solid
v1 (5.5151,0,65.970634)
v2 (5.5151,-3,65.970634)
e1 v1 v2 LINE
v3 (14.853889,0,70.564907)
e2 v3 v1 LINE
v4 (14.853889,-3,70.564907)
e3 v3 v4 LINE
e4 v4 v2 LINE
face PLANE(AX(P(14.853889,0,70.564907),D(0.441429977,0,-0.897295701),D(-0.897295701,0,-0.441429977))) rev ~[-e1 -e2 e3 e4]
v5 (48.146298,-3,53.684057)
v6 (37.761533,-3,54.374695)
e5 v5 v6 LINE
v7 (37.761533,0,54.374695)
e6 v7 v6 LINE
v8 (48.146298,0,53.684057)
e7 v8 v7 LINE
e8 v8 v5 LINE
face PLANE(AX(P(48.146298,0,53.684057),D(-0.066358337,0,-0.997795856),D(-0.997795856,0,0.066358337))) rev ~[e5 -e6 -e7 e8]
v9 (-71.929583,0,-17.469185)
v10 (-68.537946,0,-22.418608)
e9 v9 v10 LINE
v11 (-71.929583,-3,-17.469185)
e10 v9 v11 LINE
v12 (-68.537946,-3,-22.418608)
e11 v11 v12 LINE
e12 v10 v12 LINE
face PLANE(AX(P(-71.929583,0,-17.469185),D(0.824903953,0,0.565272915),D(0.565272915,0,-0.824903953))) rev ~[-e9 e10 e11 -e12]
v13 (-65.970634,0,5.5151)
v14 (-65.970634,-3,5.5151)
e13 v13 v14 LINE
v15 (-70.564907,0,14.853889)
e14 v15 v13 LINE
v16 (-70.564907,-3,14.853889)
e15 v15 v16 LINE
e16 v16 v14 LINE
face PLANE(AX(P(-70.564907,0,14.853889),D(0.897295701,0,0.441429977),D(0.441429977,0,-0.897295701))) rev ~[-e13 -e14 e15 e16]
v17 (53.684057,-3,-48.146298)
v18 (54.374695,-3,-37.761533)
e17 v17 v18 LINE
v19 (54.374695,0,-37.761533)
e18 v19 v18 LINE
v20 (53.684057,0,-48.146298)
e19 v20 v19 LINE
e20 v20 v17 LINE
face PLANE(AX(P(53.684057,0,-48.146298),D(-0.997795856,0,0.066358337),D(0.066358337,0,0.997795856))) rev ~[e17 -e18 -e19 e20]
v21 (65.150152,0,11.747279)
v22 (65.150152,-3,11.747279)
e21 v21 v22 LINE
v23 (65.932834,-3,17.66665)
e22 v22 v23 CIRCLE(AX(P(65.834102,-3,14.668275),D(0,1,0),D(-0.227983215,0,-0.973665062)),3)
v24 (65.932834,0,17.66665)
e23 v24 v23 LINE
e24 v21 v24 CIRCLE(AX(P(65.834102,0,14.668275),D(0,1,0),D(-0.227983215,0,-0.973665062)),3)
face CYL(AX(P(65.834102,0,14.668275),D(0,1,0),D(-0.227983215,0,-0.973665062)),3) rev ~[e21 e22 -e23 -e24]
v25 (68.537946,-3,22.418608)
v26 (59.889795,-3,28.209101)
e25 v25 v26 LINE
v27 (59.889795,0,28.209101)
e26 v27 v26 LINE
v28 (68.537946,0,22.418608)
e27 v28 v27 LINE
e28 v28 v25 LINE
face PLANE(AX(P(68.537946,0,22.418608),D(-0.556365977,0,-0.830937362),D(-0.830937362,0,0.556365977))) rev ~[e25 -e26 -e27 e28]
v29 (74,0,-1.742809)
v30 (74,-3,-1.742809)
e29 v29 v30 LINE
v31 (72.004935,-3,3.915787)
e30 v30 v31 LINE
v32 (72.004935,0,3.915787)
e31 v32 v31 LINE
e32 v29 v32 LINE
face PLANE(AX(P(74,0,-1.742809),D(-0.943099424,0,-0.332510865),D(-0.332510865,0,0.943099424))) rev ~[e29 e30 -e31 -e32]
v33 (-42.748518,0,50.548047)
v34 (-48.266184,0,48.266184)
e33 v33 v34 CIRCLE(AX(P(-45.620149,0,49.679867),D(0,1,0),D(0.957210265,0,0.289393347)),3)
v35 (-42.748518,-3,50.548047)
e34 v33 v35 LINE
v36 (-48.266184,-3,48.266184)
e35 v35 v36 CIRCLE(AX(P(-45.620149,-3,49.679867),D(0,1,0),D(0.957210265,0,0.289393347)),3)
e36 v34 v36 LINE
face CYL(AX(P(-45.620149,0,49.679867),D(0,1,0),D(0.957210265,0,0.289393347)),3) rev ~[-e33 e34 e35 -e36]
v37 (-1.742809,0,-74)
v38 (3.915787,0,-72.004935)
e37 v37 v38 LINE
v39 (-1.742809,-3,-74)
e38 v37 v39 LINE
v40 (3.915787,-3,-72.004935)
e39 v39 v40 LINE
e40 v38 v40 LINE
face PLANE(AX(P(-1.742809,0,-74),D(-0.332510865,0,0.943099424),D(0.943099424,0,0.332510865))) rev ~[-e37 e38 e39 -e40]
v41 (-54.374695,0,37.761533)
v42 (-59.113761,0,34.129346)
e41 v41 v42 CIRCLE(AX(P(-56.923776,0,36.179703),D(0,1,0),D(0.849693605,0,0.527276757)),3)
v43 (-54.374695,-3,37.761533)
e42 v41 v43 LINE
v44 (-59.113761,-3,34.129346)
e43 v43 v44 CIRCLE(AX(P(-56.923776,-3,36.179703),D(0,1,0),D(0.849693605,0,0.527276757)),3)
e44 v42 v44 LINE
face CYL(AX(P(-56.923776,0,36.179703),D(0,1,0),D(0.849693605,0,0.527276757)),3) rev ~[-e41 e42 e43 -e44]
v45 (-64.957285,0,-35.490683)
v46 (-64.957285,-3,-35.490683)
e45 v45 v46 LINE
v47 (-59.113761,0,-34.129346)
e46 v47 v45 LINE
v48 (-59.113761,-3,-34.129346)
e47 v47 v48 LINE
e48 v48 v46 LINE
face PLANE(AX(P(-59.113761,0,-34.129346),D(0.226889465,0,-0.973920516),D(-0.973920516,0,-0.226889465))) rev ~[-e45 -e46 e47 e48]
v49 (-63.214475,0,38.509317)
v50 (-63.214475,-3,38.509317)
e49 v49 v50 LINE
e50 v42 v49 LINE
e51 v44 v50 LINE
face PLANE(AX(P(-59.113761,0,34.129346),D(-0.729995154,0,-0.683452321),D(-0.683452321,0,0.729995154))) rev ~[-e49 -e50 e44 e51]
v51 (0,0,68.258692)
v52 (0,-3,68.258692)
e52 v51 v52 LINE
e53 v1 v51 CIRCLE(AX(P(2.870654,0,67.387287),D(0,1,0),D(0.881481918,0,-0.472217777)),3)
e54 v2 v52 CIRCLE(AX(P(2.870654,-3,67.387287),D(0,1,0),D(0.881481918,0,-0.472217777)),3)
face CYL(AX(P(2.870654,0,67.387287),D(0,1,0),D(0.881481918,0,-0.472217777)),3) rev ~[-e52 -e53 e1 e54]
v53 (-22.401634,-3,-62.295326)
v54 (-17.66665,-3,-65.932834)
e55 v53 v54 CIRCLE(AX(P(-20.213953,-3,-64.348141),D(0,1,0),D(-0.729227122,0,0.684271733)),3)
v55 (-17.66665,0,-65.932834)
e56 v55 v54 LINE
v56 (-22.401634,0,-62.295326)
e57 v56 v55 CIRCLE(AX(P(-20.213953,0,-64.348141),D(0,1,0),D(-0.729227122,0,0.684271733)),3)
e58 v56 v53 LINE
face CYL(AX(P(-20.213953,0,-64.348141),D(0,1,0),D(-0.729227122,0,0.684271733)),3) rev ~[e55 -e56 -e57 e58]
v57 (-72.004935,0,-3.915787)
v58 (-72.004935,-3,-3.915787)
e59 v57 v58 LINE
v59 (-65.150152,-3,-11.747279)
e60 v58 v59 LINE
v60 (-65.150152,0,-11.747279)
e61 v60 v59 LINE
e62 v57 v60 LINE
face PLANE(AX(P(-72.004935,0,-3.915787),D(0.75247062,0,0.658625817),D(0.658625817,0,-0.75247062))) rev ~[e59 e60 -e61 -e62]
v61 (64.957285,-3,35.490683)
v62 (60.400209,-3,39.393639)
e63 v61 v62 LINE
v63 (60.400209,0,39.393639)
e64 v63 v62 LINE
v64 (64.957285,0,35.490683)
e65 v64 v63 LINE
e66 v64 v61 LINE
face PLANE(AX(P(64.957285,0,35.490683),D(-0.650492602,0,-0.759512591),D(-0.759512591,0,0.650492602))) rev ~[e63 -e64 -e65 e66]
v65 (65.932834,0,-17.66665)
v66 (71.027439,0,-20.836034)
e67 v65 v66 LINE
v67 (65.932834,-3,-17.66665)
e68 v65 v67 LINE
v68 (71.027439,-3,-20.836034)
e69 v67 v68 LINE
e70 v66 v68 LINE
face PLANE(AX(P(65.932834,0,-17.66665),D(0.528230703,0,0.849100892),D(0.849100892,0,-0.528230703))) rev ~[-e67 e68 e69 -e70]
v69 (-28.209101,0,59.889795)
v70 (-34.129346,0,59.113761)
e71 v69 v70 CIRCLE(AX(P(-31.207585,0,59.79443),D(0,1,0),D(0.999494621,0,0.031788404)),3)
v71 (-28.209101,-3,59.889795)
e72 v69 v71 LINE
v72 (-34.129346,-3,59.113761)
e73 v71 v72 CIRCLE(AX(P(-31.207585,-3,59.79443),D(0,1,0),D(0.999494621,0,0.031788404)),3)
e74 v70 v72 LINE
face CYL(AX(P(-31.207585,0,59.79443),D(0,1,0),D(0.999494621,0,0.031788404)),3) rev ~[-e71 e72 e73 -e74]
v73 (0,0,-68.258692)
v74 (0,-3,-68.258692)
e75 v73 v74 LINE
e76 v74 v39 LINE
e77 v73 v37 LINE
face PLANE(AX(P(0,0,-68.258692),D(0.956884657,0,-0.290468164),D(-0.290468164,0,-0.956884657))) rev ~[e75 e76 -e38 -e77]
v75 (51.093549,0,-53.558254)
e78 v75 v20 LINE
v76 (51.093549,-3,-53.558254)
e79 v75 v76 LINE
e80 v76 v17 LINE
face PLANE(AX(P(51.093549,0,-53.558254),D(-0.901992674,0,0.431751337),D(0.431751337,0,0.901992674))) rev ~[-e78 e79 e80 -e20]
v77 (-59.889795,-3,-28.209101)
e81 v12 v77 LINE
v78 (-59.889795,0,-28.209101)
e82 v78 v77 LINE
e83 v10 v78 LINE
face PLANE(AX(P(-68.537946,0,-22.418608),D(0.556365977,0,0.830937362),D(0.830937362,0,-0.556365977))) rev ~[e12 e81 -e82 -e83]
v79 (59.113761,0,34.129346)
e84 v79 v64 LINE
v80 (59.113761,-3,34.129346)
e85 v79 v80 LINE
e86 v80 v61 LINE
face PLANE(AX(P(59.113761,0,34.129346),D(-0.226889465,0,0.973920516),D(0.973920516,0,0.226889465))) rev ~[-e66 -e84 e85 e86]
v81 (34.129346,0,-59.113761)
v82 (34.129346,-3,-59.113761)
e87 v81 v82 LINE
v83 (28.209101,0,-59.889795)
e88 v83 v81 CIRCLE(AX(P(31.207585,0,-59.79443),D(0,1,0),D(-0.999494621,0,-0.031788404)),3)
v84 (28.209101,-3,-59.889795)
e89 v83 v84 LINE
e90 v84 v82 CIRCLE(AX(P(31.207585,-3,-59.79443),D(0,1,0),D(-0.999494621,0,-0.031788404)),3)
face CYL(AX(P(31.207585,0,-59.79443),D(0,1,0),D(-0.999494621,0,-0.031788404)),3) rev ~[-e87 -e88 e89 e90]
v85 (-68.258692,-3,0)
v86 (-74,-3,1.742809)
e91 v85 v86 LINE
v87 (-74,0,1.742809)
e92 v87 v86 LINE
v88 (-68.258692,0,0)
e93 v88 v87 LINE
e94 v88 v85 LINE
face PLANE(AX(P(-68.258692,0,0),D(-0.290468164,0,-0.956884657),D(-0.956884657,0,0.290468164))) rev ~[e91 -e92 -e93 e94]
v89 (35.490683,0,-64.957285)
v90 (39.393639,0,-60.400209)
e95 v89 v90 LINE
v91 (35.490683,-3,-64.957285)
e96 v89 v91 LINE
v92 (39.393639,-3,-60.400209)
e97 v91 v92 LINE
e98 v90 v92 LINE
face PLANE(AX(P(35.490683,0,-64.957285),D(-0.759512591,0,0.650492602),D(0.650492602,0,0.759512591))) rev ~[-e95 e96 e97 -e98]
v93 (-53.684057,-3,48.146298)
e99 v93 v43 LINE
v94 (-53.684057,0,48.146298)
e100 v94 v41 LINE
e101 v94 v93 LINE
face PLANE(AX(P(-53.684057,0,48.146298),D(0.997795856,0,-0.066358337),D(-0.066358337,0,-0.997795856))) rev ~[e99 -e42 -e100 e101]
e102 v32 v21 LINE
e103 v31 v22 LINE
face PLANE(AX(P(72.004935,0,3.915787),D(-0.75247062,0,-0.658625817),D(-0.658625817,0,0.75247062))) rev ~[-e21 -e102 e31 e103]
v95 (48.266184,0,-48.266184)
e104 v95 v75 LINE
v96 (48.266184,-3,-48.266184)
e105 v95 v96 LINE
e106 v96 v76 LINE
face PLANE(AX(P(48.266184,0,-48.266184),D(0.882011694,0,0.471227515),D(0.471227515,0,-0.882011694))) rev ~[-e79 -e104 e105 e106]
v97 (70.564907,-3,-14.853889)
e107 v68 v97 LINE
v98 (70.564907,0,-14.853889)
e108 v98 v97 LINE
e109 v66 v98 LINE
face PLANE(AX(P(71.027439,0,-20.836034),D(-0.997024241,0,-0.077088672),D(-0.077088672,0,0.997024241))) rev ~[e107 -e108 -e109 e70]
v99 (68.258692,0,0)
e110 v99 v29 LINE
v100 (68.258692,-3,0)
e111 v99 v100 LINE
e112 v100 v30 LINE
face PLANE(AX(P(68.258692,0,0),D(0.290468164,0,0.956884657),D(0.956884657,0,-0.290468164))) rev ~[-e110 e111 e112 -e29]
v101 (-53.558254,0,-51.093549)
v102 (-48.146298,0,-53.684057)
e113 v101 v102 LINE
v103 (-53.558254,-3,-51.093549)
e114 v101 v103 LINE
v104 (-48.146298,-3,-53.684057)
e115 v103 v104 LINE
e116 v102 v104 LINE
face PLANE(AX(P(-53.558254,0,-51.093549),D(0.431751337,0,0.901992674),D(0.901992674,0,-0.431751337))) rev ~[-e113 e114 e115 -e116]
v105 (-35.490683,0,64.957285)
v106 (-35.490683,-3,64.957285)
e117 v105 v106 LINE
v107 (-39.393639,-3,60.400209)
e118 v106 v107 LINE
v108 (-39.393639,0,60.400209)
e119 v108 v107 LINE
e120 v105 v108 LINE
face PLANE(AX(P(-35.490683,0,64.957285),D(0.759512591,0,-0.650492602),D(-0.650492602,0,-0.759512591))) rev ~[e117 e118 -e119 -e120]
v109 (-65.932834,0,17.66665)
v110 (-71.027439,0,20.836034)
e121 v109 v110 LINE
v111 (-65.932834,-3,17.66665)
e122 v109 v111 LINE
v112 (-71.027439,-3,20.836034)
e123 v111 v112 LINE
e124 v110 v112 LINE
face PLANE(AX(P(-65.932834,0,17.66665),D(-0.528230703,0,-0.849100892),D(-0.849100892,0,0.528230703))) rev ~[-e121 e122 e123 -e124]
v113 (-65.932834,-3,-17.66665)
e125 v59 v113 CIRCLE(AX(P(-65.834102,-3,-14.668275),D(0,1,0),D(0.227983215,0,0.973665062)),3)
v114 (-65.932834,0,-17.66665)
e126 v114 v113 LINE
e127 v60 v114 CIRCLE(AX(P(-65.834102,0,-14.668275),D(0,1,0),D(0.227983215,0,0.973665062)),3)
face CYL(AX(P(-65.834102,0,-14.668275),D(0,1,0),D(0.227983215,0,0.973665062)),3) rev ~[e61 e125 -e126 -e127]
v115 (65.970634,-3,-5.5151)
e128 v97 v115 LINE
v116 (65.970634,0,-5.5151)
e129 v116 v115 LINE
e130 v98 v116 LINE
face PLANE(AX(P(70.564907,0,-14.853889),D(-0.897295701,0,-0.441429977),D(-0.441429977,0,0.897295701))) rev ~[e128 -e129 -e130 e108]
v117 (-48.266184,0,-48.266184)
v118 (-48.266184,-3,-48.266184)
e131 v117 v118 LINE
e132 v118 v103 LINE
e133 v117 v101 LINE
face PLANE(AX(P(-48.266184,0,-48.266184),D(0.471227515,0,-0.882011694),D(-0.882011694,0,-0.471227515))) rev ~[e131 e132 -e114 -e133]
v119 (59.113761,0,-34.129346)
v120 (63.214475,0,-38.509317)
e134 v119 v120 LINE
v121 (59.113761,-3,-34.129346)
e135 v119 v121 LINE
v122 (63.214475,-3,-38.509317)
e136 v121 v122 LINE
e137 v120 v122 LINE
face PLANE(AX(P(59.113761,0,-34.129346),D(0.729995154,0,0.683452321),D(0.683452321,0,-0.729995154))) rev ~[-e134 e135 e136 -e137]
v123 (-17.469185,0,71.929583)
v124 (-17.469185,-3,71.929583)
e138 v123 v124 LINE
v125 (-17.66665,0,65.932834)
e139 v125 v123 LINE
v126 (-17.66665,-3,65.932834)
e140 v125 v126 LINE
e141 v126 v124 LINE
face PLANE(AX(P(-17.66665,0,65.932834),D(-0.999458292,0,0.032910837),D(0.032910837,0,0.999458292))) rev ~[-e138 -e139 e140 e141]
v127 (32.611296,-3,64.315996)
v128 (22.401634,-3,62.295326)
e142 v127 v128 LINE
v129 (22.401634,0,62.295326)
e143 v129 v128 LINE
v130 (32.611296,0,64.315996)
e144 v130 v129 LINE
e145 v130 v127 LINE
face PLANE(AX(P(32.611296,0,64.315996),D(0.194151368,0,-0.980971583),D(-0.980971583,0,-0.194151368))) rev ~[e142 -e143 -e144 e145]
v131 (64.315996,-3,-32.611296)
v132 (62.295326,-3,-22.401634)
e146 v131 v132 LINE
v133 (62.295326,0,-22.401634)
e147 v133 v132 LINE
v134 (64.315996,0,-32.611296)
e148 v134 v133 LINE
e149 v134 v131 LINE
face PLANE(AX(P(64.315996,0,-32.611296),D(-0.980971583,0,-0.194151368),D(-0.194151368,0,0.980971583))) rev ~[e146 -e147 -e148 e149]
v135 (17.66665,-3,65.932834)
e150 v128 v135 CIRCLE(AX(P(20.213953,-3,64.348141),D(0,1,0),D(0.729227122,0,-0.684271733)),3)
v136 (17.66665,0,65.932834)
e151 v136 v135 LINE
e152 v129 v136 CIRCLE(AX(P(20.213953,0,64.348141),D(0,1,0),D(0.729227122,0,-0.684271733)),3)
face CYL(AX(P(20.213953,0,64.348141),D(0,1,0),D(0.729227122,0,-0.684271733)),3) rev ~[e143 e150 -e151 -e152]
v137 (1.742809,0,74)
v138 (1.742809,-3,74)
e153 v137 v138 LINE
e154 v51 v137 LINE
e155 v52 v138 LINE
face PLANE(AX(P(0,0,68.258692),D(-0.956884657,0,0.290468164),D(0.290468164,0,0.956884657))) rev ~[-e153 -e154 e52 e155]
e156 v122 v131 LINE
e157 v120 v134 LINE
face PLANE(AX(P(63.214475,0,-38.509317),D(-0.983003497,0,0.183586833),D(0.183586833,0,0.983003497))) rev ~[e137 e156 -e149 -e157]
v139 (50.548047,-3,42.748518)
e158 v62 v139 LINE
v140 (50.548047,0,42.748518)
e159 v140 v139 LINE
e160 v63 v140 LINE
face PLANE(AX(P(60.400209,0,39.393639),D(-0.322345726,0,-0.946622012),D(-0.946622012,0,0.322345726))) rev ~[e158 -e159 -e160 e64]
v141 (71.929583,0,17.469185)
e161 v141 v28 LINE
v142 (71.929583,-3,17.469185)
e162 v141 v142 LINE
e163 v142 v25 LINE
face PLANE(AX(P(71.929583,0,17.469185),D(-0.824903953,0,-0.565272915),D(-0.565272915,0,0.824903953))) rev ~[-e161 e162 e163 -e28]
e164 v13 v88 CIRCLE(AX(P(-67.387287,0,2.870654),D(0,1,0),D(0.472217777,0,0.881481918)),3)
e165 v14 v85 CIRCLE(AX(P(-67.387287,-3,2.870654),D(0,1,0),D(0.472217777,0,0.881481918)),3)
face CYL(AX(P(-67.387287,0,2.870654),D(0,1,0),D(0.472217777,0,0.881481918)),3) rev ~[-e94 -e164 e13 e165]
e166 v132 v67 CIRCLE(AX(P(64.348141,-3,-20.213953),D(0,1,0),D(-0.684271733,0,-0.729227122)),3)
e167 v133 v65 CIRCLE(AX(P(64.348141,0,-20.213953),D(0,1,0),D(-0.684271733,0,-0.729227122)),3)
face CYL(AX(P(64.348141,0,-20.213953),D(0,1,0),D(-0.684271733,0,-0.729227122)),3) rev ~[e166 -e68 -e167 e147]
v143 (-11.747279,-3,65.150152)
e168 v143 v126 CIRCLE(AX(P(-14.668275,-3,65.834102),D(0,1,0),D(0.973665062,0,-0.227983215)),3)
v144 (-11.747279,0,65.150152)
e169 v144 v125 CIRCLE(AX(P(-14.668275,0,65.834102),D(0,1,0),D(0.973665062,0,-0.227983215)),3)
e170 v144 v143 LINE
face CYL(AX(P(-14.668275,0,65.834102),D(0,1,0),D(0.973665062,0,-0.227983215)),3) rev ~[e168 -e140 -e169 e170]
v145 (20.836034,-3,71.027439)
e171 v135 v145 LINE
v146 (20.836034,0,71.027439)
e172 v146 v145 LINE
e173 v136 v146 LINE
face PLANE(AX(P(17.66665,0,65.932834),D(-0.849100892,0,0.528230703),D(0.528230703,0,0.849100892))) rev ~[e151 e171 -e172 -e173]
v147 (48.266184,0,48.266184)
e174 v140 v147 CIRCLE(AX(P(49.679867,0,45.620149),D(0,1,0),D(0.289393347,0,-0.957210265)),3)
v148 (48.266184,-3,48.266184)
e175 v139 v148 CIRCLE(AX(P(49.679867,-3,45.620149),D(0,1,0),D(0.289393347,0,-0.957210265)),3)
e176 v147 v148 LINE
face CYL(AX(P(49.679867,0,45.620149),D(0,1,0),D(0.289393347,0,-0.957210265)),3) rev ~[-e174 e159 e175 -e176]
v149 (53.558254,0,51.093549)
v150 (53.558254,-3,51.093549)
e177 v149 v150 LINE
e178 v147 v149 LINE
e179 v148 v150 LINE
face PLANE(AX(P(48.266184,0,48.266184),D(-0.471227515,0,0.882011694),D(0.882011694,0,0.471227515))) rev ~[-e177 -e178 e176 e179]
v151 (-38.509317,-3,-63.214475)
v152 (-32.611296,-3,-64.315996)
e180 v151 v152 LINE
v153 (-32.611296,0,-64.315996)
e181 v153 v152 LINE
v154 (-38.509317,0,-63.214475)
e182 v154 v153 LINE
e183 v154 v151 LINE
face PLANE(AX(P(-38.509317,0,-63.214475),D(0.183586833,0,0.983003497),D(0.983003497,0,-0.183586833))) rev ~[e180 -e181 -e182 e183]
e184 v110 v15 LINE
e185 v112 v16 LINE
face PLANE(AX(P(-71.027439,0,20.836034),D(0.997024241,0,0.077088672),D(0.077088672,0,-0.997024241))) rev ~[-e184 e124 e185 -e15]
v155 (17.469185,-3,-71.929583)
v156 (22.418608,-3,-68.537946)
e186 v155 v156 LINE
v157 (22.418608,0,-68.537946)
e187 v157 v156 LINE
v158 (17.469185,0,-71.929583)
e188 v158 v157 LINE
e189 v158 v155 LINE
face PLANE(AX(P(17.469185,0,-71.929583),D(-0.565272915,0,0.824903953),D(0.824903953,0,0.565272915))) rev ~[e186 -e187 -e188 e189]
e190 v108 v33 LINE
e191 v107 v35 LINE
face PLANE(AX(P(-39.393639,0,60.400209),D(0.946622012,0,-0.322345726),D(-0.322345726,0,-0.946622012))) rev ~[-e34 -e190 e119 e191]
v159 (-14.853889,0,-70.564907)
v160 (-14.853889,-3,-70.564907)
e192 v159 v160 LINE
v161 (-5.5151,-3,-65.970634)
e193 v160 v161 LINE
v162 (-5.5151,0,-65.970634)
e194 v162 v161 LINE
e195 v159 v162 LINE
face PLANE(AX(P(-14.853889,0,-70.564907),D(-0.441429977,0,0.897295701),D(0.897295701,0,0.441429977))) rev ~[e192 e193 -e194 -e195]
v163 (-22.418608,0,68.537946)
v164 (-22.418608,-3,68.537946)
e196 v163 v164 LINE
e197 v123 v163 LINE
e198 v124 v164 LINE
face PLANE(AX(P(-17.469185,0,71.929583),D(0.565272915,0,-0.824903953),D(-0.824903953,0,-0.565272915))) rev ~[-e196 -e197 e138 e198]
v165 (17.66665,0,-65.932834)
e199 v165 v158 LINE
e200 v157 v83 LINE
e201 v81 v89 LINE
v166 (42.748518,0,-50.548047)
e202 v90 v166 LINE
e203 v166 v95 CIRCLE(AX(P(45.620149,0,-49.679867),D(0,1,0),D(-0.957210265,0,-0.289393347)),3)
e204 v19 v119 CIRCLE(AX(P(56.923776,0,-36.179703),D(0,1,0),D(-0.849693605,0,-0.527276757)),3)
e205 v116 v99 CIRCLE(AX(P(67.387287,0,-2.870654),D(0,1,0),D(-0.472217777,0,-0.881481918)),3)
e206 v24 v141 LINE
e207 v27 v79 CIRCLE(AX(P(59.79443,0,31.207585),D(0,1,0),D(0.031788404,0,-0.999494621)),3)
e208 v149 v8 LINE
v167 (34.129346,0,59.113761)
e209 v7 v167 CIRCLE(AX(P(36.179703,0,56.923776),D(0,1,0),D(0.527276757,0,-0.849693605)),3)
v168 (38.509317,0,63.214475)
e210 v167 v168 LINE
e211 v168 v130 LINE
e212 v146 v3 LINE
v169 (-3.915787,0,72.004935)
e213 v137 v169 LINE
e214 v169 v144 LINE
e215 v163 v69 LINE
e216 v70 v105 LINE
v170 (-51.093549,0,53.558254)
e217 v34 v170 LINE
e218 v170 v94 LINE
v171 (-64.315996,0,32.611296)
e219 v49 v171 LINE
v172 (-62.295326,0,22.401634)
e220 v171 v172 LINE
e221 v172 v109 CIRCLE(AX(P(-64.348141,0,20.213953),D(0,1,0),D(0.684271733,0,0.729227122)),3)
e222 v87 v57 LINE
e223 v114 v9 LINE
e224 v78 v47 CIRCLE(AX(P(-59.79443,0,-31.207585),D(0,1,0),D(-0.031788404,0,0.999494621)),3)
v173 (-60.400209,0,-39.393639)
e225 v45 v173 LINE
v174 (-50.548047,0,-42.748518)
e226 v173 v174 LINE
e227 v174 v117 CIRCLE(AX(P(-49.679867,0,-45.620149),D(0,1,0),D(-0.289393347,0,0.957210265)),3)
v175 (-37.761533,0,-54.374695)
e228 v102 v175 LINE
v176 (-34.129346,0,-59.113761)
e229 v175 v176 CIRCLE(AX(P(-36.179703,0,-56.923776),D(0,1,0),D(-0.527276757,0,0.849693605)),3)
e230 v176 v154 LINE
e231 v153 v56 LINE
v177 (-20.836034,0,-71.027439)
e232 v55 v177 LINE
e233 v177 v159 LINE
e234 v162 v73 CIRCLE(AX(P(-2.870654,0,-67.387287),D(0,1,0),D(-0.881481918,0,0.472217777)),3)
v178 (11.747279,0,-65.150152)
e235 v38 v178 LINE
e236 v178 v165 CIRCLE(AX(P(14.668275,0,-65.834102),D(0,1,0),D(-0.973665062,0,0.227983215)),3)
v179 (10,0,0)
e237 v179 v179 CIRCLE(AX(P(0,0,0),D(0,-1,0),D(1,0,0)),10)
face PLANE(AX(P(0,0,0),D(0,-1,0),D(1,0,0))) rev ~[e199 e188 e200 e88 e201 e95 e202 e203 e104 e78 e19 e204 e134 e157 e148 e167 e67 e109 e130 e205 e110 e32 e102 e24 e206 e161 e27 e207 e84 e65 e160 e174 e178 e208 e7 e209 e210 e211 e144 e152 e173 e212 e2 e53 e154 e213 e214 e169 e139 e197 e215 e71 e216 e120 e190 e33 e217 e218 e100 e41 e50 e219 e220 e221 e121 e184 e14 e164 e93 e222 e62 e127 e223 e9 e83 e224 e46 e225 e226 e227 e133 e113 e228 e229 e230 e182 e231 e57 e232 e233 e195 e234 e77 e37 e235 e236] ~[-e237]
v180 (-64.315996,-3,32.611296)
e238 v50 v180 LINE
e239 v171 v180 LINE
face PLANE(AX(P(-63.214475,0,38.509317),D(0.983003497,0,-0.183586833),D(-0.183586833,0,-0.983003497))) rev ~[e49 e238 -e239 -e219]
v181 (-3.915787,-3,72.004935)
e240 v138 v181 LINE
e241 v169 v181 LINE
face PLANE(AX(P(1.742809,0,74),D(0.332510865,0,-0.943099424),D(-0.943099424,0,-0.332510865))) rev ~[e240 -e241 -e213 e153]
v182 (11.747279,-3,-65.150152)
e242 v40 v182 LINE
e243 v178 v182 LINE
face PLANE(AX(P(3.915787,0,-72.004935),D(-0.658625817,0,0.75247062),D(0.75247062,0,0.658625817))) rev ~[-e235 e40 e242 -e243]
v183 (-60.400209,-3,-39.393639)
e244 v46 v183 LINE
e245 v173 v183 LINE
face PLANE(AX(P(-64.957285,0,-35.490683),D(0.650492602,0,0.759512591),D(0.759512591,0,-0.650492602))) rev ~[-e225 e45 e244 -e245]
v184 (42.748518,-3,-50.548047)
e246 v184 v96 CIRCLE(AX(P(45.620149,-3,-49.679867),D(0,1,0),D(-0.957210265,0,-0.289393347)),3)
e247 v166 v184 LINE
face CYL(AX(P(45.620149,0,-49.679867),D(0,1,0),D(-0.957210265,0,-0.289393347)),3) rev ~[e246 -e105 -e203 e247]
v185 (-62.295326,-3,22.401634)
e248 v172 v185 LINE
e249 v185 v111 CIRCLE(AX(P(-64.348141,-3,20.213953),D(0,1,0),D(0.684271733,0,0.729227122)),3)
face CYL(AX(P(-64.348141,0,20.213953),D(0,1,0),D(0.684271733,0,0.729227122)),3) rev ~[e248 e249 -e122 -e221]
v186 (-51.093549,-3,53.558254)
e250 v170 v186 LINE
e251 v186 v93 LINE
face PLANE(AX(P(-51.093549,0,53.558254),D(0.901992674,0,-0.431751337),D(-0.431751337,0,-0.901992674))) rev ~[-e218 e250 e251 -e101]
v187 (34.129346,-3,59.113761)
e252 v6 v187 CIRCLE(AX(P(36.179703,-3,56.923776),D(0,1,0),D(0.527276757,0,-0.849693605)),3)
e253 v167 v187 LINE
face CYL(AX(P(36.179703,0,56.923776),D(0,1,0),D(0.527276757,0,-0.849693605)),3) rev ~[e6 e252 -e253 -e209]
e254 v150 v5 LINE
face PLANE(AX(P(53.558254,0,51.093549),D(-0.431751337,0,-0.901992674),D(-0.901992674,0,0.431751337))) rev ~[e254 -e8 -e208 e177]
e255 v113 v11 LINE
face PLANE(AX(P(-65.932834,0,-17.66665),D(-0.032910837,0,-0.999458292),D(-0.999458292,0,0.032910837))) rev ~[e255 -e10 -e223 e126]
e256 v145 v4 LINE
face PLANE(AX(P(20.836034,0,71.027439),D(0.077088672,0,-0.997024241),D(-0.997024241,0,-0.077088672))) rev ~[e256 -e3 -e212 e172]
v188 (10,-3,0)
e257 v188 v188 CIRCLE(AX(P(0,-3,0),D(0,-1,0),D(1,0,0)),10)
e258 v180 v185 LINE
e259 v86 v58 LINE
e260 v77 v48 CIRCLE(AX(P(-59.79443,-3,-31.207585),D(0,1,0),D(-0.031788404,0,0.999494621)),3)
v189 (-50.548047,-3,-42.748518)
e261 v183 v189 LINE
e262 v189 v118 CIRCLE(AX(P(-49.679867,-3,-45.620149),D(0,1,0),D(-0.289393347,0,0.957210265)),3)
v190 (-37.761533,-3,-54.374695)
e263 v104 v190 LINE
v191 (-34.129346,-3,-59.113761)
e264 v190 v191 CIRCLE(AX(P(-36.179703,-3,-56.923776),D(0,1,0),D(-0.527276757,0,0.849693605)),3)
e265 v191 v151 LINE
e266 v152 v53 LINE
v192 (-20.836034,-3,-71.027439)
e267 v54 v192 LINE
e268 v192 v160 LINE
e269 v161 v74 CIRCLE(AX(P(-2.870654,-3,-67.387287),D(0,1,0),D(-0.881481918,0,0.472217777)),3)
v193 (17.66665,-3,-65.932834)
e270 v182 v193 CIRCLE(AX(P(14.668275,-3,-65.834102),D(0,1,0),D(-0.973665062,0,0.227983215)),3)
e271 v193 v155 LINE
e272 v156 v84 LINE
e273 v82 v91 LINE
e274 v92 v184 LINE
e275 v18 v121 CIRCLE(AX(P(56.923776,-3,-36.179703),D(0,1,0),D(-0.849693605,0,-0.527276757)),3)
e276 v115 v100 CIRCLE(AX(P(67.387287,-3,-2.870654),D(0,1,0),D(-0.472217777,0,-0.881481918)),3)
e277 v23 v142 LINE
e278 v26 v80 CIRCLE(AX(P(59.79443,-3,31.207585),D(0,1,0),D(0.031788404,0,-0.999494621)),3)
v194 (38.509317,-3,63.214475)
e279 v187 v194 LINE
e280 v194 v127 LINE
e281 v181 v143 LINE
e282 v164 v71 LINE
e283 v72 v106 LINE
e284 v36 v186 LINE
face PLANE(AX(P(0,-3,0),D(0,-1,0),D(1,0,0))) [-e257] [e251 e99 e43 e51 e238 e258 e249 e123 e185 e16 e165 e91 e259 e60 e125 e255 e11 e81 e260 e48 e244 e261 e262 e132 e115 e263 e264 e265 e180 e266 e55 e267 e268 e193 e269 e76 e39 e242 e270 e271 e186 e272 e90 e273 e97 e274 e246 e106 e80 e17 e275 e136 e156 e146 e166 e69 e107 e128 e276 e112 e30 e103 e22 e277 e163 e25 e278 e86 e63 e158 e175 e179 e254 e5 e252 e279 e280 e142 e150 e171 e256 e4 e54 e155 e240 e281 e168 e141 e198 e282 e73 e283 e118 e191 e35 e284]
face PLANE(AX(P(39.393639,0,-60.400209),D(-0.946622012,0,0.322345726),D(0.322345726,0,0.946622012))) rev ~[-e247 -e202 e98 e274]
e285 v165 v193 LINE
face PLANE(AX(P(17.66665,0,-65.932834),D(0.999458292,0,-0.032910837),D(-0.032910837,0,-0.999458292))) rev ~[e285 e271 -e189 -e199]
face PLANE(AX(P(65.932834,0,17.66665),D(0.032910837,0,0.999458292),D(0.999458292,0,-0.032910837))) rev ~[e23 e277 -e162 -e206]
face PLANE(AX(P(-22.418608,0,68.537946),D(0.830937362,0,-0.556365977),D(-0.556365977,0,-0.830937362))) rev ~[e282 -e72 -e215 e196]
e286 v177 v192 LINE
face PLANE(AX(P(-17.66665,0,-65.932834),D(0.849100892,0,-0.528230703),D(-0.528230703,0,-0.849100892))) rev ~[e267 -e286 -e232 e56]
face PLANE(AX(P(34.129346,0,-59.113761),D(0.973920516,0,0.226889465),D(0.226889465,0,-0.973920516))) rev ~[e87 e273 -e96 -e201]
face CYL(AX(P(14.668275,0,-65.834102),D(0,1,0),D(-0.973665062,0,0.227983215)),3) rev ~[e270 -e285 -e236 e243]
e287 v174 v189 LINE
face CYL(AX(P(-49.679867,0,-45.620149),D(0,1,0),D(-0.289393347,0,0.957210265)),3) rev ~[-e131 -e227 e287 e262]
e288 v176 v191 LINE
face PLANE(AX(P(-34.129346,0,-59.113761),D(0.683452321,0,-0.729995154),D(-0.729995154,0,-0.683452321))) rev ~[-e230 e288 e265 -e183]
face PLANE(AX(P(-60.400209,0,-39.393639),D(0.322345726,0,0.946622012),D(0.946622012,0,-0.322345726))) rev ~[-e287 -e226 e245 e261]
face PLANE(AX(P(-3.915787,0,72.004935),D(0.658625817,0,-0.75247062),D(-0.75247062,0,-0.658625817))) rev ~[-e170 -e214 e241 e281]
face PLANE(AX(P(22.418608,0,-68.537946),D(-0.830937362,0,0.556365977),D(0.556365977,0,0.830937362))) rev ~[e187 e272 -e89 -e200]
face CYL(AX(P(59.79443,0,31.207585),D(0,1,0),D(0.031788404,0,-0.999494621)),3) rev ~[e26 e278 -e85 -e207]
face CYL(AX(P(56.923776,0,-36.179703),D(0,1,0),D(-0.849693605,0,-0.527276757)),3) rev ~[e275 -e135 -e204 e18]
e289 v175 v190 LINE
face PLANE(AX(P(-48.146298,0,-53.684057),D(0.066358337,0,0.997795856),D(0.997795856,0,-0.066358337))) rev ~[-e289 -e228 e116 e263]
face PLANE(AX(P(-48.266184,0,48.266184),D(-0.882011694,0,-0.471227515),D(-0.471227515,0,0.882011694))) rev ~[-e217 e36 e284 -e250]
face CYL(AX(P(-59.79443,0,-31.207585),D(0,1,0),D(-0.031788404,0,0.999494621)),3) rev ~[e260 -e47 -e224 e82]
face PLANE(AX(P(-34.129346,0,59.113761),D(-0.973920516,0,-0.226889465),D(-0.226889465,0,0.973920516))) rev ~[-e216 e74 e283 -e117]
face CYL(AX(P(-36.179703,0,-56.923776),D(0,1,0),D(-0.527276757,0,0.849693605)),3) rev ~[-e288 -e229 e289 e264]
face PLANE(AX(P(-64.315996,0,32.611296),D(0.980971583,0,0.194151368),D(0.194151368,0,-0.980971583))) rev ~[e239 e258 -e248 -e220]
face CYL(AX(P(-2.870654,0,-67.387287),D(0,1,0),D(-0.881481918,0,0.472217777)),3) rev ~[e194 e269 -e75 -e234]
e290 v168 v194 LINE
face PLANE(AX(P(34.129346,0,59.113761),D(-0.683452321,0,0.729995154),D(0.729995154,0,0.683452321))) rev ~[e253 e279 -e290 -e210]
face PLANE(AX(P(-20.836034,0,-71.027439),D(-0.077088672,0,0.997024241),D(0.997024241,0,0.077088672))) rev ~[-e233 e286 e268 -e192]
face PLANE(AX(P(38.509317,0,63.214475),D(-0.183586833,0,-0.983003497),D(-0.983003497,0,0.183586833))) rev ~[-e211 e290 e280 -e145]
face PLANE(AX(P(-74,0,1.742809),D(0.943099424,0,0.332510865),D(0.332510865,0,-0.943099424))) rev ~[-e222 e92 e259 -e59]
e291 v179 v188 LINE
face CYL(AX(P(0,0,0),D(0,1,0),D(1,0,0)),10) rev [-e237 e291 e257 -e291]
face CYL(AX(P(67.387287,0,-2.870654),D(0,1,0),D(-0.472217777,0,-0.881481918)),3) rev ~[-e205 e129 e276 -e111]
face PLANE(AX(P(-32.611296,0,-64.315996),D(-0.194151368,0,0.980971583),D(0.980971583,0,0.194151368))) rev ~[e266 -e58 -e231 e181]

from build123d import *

# Parameters (mm, degrees)
F0_R     = 10
F1_DEPTH = 3


with BuildPart() as f1:
    # F0 (on Front) → F1 (new body)
    with BuildSketch(Plane.XZ):
        with BuildLine():
            Line((-3.915787, 72.004935), (-11.747279, 65.150152))
            ThreePointArc((-11.747279, 65.150152), (-15.061523, 62.859987), (-17.66665, 65.932834))
            Line((-17.66665, 65.932834), (-17.469185, 71.929583))
            Line((-17.469185, 71.929583), (-22.418608, 68.537946))
            Line((-22.418608, 68.537946), (-28.209101, 59.889795))
            ThreePointArc((-28.209101, 59.889795), (-30.817676, 56.819876), (-34.129346, 59.113761))
            Line((-34.129346, 59.113761), (-35.490683, 64.957285))
            Line((-35.490683, 64.957285), (-39.393639, 60.400209))
            Line((-39.393639, 60.400209), (-42.748518, 50.548047))
            ThreePointArc((-42.748518, 50.548047), (-44.473655, 46.907584), (-48.266184, 48.266184))
            Line((-48.266184, 48.266184), (-51.093549, 53.558254))
            Line((-51.093549, 53.558254), (-53.684057, 48.146298))
            Line((-53.684057, 48.146298), (-54.374695, 37.761533))
            ThreePointArc((-54.374695, 37.761533), (-55.098828, 33.798618), (-59.113761, 34.129346))
            Line((-59.113761, 34.129346), (-63.214475, 38.509317))
            Line((-63.214475, 38.509317), (-64.315996, 32.611296))
            Line((-64.315996, 32.611296), (-62.295326, 22.401634))
            ThreePointArc((-62.295326, 22.401634), (-61.969107, 18.386332), (-65.932834, 17.66665))
            Line((-65.932834, 17.66665), (-71.027439, 20.836034))
            Line((-71.027439, 20.836034), (-70.564907, 14.853889))
            Line((-70.564907, 14.853889), (-65.970634, 5.5151))
            ThreePointArc((-65.970634, 5.5151), (-64.616294, 1.721047), (-68.258692, 0))
            Line((-68.258692, 0), (-74, 1.742809))
            Line((-74, 1.742809), (-72.004935, -3.915787))
            Line((-72.004935, -3.915787), (-65.150152, -11.747279))
            ThreePointArc((-65.150152, -11.747279), (-62.859987, -15.061523), (-65.932834, -17.66665))
            Line((-65.932834, -17.66665), (-71.929583, -17.469185))
            Line((-71.929583, -17.469185), (-68.537946, -22.418608))
            Line((-68.537946, -22.418608), (-59.889795, -28.209101))
            ThreePointArc((-59.889795, -28.209101), (-56.819876, -30.817676), (-59.113761, -34.129346))
            Line((-59.113761, -34.129346), (-64.957285, -35.490683))
            Line((-64.957285, -35.490683), (-60.400209, -39.393639))
            Line((-60.400209, -39.393639), (-50.548047, -42.748518))
            ThreePointArc((-50.548047, -42.748518), (-46.907584, -44.473655), (-48.266184, -48.266184))
            Line((-48.266184, -48.266184), (-53.558254, -51.093549))
            Line((-53.558254, -51.093549), (-48.146298, -53.684057))
            Line((-48.146298, -53.684057), (-37.761533, -54.374695))
            ThreePointArc((-37.761533, -54.374695), (-33.798618, -55.098828), (-34.129346, -59.113761))
            Line((-34.129346, -59.113761), (-38.509317, -63.214475))
            Line((-38.509317, -63.214475), (-32.611296, -64.315996))
            Line((-32.611296, -64.315996), (-22.401634, -62.295326))
            ThreePointArc((-22.401634, -62.295326), (-18.386332, -61.969107), (-17.66665, -65.932834))
            Line((-17.66665, -65.932834), (-20.836034, -71.027439))
            Line((-20.836034, -71.027439), (-14.853889, -70.564907))
            Line((-14.853889, -70.564907), (-5.5151, -65.970634))
            ThreePointArc((-5.5151, -65.970634), (-1.721047, -64.616294), (0, -68.258692))
            Line((0, -68.258692), (-1.742809, -74))
            Line((-1.742809, -74), (3.915787, -72.004935))
            Line((3.915787, -72.004935), (11.747279, -65.150152))
            ThreePointArc((11.747279, -65.150152), (15.061523, -62.859987), (17.66665, -65.932834))
            Line((17.66665, -65.932834), (17.469185, -71.929583))
            Line((17.469185, -71.929583), (22.418608, -68.537946))
            Line((22.418608, -68.537946), (28.209101, -59.889795))
            ThreePointArc((28.209101, -59.889795), (30.817676, -56.819876), (34.129346, -59.113761))
            Line((34.129346, -59.113761), (35.490683, -64.957285))
            Line((35.490683, -64.957285), (39.393639, -60.400209))
            Line((39.393639, -60.400209), (42.748518, -50.548047))
            ThreePointArc((42.748518, -50.548047), (44.473655, -46.907584), (48.266184, -48.266184))
            Line((48.266184, -48.266184), (51.093549, -53.558254))
            Line((51.093549, -53.558254), (53.684057, -48.146298))
            Line((53.684057, -48.146298), (54.374695, -37.761533))
            ThreePointArc((54.374695, -37.761533), (55.098828, -33.798618), (59.113761, -34.129346))
            Line((59.113761, -34.129346), (63.214475, -38.509317))
            Line((63.214475, -38.509317), (64.315996, -32.611296))
            Line((64.315996, -32.611296), (62.295326, -22.401634))
            ThreePointArc((62.295326, -22.401634), (61.969107, -18.386332), (65.932834, -17.66665))
            Line((65.932834, -17.66665), (71.027439, -20.836034))
            Line((71.027439, -20.836034), (70.564907, -14.853889))
            Line((70.564907, -14.853889), (65.970634, -5.5151))
            ThreePointArc((65.970634, -5.5151), (64.616294, -1.721047), (68.258692, 0))
            Line((68.258692, 0), (74, -1.742809))
            Line((74, -1.742809), (72.004935, 3.915787))
            Line((72.004935, 3.915787), (65.150152, 11.747279))
            ThreePointArc((65.150152, 11.747279), (62.859987, 15.061523), (65.932834, 17.66665))
            Line((65.932834, 17.66665), (71.929583, 17.469185))
            Line((71.929583, 17.469185), (68.537946, 22.418608))
            Line((68.537946, 22.418608), (59.889795, 28.209101))
            ThreePointArc((59.889795, 28.209101), (56.819876, 30.817676), (59.113761, 34.129346))
            Line((59.113761, 34.129346), (64.957285, 35.490683))
            Line((64.957285, 35.490683), (60.400209, 39.393639))
            Line((60.400209, 39.393639), (50.548047, 42.748518))
            ThreePointArc((50.548047, 42.748518), (46.907584, 44.473655), (48.266184, 48.266184))
            Line((48.266184, 48.266184), (53.558254, 51.093549))
            Line((53.558254, 51.093549), (48.146298, 53.684057))
            Line((48.146298, 53.684057), (37.761533, 54.374695))
            ThreePointArc((37.761533, 54.374695), (33.798618, 55.098828), (34.129346, 59.113761))
            Line((34.129346, 59.113761), (38.509317, 63.214475))
            Line((38.509317, 63.214475), (32.611296, 64.315996))
            Line((32.611296, 64.315996), (22.401634, 62.295326))
            ThreePointArc((22.401634, 62.295326), (18.386332, 61.969107), (17.66665, 65.932834))
            Line((17.66665, 65.932834), (20.836034, 71.027439))
            Line((20.836034, 71.027439), (14.853889, 70.564907))
            Line((14.853889, 70.564907), (5.5151, 65.970634))
            ThreePointArc((5.5151, 65.970634), (1.721047, 64.616294), (0, 68.258692))
            Line((0, 68.258692), (1.742809, 74))
            Line((1.742809, 74), (-3.915787, 72.004935))
        make_face()
        Circle(F0_R, mode=Mode.SUBTRACT)
    extrude(amount=F1_DEPTH)


solid = f1.part
